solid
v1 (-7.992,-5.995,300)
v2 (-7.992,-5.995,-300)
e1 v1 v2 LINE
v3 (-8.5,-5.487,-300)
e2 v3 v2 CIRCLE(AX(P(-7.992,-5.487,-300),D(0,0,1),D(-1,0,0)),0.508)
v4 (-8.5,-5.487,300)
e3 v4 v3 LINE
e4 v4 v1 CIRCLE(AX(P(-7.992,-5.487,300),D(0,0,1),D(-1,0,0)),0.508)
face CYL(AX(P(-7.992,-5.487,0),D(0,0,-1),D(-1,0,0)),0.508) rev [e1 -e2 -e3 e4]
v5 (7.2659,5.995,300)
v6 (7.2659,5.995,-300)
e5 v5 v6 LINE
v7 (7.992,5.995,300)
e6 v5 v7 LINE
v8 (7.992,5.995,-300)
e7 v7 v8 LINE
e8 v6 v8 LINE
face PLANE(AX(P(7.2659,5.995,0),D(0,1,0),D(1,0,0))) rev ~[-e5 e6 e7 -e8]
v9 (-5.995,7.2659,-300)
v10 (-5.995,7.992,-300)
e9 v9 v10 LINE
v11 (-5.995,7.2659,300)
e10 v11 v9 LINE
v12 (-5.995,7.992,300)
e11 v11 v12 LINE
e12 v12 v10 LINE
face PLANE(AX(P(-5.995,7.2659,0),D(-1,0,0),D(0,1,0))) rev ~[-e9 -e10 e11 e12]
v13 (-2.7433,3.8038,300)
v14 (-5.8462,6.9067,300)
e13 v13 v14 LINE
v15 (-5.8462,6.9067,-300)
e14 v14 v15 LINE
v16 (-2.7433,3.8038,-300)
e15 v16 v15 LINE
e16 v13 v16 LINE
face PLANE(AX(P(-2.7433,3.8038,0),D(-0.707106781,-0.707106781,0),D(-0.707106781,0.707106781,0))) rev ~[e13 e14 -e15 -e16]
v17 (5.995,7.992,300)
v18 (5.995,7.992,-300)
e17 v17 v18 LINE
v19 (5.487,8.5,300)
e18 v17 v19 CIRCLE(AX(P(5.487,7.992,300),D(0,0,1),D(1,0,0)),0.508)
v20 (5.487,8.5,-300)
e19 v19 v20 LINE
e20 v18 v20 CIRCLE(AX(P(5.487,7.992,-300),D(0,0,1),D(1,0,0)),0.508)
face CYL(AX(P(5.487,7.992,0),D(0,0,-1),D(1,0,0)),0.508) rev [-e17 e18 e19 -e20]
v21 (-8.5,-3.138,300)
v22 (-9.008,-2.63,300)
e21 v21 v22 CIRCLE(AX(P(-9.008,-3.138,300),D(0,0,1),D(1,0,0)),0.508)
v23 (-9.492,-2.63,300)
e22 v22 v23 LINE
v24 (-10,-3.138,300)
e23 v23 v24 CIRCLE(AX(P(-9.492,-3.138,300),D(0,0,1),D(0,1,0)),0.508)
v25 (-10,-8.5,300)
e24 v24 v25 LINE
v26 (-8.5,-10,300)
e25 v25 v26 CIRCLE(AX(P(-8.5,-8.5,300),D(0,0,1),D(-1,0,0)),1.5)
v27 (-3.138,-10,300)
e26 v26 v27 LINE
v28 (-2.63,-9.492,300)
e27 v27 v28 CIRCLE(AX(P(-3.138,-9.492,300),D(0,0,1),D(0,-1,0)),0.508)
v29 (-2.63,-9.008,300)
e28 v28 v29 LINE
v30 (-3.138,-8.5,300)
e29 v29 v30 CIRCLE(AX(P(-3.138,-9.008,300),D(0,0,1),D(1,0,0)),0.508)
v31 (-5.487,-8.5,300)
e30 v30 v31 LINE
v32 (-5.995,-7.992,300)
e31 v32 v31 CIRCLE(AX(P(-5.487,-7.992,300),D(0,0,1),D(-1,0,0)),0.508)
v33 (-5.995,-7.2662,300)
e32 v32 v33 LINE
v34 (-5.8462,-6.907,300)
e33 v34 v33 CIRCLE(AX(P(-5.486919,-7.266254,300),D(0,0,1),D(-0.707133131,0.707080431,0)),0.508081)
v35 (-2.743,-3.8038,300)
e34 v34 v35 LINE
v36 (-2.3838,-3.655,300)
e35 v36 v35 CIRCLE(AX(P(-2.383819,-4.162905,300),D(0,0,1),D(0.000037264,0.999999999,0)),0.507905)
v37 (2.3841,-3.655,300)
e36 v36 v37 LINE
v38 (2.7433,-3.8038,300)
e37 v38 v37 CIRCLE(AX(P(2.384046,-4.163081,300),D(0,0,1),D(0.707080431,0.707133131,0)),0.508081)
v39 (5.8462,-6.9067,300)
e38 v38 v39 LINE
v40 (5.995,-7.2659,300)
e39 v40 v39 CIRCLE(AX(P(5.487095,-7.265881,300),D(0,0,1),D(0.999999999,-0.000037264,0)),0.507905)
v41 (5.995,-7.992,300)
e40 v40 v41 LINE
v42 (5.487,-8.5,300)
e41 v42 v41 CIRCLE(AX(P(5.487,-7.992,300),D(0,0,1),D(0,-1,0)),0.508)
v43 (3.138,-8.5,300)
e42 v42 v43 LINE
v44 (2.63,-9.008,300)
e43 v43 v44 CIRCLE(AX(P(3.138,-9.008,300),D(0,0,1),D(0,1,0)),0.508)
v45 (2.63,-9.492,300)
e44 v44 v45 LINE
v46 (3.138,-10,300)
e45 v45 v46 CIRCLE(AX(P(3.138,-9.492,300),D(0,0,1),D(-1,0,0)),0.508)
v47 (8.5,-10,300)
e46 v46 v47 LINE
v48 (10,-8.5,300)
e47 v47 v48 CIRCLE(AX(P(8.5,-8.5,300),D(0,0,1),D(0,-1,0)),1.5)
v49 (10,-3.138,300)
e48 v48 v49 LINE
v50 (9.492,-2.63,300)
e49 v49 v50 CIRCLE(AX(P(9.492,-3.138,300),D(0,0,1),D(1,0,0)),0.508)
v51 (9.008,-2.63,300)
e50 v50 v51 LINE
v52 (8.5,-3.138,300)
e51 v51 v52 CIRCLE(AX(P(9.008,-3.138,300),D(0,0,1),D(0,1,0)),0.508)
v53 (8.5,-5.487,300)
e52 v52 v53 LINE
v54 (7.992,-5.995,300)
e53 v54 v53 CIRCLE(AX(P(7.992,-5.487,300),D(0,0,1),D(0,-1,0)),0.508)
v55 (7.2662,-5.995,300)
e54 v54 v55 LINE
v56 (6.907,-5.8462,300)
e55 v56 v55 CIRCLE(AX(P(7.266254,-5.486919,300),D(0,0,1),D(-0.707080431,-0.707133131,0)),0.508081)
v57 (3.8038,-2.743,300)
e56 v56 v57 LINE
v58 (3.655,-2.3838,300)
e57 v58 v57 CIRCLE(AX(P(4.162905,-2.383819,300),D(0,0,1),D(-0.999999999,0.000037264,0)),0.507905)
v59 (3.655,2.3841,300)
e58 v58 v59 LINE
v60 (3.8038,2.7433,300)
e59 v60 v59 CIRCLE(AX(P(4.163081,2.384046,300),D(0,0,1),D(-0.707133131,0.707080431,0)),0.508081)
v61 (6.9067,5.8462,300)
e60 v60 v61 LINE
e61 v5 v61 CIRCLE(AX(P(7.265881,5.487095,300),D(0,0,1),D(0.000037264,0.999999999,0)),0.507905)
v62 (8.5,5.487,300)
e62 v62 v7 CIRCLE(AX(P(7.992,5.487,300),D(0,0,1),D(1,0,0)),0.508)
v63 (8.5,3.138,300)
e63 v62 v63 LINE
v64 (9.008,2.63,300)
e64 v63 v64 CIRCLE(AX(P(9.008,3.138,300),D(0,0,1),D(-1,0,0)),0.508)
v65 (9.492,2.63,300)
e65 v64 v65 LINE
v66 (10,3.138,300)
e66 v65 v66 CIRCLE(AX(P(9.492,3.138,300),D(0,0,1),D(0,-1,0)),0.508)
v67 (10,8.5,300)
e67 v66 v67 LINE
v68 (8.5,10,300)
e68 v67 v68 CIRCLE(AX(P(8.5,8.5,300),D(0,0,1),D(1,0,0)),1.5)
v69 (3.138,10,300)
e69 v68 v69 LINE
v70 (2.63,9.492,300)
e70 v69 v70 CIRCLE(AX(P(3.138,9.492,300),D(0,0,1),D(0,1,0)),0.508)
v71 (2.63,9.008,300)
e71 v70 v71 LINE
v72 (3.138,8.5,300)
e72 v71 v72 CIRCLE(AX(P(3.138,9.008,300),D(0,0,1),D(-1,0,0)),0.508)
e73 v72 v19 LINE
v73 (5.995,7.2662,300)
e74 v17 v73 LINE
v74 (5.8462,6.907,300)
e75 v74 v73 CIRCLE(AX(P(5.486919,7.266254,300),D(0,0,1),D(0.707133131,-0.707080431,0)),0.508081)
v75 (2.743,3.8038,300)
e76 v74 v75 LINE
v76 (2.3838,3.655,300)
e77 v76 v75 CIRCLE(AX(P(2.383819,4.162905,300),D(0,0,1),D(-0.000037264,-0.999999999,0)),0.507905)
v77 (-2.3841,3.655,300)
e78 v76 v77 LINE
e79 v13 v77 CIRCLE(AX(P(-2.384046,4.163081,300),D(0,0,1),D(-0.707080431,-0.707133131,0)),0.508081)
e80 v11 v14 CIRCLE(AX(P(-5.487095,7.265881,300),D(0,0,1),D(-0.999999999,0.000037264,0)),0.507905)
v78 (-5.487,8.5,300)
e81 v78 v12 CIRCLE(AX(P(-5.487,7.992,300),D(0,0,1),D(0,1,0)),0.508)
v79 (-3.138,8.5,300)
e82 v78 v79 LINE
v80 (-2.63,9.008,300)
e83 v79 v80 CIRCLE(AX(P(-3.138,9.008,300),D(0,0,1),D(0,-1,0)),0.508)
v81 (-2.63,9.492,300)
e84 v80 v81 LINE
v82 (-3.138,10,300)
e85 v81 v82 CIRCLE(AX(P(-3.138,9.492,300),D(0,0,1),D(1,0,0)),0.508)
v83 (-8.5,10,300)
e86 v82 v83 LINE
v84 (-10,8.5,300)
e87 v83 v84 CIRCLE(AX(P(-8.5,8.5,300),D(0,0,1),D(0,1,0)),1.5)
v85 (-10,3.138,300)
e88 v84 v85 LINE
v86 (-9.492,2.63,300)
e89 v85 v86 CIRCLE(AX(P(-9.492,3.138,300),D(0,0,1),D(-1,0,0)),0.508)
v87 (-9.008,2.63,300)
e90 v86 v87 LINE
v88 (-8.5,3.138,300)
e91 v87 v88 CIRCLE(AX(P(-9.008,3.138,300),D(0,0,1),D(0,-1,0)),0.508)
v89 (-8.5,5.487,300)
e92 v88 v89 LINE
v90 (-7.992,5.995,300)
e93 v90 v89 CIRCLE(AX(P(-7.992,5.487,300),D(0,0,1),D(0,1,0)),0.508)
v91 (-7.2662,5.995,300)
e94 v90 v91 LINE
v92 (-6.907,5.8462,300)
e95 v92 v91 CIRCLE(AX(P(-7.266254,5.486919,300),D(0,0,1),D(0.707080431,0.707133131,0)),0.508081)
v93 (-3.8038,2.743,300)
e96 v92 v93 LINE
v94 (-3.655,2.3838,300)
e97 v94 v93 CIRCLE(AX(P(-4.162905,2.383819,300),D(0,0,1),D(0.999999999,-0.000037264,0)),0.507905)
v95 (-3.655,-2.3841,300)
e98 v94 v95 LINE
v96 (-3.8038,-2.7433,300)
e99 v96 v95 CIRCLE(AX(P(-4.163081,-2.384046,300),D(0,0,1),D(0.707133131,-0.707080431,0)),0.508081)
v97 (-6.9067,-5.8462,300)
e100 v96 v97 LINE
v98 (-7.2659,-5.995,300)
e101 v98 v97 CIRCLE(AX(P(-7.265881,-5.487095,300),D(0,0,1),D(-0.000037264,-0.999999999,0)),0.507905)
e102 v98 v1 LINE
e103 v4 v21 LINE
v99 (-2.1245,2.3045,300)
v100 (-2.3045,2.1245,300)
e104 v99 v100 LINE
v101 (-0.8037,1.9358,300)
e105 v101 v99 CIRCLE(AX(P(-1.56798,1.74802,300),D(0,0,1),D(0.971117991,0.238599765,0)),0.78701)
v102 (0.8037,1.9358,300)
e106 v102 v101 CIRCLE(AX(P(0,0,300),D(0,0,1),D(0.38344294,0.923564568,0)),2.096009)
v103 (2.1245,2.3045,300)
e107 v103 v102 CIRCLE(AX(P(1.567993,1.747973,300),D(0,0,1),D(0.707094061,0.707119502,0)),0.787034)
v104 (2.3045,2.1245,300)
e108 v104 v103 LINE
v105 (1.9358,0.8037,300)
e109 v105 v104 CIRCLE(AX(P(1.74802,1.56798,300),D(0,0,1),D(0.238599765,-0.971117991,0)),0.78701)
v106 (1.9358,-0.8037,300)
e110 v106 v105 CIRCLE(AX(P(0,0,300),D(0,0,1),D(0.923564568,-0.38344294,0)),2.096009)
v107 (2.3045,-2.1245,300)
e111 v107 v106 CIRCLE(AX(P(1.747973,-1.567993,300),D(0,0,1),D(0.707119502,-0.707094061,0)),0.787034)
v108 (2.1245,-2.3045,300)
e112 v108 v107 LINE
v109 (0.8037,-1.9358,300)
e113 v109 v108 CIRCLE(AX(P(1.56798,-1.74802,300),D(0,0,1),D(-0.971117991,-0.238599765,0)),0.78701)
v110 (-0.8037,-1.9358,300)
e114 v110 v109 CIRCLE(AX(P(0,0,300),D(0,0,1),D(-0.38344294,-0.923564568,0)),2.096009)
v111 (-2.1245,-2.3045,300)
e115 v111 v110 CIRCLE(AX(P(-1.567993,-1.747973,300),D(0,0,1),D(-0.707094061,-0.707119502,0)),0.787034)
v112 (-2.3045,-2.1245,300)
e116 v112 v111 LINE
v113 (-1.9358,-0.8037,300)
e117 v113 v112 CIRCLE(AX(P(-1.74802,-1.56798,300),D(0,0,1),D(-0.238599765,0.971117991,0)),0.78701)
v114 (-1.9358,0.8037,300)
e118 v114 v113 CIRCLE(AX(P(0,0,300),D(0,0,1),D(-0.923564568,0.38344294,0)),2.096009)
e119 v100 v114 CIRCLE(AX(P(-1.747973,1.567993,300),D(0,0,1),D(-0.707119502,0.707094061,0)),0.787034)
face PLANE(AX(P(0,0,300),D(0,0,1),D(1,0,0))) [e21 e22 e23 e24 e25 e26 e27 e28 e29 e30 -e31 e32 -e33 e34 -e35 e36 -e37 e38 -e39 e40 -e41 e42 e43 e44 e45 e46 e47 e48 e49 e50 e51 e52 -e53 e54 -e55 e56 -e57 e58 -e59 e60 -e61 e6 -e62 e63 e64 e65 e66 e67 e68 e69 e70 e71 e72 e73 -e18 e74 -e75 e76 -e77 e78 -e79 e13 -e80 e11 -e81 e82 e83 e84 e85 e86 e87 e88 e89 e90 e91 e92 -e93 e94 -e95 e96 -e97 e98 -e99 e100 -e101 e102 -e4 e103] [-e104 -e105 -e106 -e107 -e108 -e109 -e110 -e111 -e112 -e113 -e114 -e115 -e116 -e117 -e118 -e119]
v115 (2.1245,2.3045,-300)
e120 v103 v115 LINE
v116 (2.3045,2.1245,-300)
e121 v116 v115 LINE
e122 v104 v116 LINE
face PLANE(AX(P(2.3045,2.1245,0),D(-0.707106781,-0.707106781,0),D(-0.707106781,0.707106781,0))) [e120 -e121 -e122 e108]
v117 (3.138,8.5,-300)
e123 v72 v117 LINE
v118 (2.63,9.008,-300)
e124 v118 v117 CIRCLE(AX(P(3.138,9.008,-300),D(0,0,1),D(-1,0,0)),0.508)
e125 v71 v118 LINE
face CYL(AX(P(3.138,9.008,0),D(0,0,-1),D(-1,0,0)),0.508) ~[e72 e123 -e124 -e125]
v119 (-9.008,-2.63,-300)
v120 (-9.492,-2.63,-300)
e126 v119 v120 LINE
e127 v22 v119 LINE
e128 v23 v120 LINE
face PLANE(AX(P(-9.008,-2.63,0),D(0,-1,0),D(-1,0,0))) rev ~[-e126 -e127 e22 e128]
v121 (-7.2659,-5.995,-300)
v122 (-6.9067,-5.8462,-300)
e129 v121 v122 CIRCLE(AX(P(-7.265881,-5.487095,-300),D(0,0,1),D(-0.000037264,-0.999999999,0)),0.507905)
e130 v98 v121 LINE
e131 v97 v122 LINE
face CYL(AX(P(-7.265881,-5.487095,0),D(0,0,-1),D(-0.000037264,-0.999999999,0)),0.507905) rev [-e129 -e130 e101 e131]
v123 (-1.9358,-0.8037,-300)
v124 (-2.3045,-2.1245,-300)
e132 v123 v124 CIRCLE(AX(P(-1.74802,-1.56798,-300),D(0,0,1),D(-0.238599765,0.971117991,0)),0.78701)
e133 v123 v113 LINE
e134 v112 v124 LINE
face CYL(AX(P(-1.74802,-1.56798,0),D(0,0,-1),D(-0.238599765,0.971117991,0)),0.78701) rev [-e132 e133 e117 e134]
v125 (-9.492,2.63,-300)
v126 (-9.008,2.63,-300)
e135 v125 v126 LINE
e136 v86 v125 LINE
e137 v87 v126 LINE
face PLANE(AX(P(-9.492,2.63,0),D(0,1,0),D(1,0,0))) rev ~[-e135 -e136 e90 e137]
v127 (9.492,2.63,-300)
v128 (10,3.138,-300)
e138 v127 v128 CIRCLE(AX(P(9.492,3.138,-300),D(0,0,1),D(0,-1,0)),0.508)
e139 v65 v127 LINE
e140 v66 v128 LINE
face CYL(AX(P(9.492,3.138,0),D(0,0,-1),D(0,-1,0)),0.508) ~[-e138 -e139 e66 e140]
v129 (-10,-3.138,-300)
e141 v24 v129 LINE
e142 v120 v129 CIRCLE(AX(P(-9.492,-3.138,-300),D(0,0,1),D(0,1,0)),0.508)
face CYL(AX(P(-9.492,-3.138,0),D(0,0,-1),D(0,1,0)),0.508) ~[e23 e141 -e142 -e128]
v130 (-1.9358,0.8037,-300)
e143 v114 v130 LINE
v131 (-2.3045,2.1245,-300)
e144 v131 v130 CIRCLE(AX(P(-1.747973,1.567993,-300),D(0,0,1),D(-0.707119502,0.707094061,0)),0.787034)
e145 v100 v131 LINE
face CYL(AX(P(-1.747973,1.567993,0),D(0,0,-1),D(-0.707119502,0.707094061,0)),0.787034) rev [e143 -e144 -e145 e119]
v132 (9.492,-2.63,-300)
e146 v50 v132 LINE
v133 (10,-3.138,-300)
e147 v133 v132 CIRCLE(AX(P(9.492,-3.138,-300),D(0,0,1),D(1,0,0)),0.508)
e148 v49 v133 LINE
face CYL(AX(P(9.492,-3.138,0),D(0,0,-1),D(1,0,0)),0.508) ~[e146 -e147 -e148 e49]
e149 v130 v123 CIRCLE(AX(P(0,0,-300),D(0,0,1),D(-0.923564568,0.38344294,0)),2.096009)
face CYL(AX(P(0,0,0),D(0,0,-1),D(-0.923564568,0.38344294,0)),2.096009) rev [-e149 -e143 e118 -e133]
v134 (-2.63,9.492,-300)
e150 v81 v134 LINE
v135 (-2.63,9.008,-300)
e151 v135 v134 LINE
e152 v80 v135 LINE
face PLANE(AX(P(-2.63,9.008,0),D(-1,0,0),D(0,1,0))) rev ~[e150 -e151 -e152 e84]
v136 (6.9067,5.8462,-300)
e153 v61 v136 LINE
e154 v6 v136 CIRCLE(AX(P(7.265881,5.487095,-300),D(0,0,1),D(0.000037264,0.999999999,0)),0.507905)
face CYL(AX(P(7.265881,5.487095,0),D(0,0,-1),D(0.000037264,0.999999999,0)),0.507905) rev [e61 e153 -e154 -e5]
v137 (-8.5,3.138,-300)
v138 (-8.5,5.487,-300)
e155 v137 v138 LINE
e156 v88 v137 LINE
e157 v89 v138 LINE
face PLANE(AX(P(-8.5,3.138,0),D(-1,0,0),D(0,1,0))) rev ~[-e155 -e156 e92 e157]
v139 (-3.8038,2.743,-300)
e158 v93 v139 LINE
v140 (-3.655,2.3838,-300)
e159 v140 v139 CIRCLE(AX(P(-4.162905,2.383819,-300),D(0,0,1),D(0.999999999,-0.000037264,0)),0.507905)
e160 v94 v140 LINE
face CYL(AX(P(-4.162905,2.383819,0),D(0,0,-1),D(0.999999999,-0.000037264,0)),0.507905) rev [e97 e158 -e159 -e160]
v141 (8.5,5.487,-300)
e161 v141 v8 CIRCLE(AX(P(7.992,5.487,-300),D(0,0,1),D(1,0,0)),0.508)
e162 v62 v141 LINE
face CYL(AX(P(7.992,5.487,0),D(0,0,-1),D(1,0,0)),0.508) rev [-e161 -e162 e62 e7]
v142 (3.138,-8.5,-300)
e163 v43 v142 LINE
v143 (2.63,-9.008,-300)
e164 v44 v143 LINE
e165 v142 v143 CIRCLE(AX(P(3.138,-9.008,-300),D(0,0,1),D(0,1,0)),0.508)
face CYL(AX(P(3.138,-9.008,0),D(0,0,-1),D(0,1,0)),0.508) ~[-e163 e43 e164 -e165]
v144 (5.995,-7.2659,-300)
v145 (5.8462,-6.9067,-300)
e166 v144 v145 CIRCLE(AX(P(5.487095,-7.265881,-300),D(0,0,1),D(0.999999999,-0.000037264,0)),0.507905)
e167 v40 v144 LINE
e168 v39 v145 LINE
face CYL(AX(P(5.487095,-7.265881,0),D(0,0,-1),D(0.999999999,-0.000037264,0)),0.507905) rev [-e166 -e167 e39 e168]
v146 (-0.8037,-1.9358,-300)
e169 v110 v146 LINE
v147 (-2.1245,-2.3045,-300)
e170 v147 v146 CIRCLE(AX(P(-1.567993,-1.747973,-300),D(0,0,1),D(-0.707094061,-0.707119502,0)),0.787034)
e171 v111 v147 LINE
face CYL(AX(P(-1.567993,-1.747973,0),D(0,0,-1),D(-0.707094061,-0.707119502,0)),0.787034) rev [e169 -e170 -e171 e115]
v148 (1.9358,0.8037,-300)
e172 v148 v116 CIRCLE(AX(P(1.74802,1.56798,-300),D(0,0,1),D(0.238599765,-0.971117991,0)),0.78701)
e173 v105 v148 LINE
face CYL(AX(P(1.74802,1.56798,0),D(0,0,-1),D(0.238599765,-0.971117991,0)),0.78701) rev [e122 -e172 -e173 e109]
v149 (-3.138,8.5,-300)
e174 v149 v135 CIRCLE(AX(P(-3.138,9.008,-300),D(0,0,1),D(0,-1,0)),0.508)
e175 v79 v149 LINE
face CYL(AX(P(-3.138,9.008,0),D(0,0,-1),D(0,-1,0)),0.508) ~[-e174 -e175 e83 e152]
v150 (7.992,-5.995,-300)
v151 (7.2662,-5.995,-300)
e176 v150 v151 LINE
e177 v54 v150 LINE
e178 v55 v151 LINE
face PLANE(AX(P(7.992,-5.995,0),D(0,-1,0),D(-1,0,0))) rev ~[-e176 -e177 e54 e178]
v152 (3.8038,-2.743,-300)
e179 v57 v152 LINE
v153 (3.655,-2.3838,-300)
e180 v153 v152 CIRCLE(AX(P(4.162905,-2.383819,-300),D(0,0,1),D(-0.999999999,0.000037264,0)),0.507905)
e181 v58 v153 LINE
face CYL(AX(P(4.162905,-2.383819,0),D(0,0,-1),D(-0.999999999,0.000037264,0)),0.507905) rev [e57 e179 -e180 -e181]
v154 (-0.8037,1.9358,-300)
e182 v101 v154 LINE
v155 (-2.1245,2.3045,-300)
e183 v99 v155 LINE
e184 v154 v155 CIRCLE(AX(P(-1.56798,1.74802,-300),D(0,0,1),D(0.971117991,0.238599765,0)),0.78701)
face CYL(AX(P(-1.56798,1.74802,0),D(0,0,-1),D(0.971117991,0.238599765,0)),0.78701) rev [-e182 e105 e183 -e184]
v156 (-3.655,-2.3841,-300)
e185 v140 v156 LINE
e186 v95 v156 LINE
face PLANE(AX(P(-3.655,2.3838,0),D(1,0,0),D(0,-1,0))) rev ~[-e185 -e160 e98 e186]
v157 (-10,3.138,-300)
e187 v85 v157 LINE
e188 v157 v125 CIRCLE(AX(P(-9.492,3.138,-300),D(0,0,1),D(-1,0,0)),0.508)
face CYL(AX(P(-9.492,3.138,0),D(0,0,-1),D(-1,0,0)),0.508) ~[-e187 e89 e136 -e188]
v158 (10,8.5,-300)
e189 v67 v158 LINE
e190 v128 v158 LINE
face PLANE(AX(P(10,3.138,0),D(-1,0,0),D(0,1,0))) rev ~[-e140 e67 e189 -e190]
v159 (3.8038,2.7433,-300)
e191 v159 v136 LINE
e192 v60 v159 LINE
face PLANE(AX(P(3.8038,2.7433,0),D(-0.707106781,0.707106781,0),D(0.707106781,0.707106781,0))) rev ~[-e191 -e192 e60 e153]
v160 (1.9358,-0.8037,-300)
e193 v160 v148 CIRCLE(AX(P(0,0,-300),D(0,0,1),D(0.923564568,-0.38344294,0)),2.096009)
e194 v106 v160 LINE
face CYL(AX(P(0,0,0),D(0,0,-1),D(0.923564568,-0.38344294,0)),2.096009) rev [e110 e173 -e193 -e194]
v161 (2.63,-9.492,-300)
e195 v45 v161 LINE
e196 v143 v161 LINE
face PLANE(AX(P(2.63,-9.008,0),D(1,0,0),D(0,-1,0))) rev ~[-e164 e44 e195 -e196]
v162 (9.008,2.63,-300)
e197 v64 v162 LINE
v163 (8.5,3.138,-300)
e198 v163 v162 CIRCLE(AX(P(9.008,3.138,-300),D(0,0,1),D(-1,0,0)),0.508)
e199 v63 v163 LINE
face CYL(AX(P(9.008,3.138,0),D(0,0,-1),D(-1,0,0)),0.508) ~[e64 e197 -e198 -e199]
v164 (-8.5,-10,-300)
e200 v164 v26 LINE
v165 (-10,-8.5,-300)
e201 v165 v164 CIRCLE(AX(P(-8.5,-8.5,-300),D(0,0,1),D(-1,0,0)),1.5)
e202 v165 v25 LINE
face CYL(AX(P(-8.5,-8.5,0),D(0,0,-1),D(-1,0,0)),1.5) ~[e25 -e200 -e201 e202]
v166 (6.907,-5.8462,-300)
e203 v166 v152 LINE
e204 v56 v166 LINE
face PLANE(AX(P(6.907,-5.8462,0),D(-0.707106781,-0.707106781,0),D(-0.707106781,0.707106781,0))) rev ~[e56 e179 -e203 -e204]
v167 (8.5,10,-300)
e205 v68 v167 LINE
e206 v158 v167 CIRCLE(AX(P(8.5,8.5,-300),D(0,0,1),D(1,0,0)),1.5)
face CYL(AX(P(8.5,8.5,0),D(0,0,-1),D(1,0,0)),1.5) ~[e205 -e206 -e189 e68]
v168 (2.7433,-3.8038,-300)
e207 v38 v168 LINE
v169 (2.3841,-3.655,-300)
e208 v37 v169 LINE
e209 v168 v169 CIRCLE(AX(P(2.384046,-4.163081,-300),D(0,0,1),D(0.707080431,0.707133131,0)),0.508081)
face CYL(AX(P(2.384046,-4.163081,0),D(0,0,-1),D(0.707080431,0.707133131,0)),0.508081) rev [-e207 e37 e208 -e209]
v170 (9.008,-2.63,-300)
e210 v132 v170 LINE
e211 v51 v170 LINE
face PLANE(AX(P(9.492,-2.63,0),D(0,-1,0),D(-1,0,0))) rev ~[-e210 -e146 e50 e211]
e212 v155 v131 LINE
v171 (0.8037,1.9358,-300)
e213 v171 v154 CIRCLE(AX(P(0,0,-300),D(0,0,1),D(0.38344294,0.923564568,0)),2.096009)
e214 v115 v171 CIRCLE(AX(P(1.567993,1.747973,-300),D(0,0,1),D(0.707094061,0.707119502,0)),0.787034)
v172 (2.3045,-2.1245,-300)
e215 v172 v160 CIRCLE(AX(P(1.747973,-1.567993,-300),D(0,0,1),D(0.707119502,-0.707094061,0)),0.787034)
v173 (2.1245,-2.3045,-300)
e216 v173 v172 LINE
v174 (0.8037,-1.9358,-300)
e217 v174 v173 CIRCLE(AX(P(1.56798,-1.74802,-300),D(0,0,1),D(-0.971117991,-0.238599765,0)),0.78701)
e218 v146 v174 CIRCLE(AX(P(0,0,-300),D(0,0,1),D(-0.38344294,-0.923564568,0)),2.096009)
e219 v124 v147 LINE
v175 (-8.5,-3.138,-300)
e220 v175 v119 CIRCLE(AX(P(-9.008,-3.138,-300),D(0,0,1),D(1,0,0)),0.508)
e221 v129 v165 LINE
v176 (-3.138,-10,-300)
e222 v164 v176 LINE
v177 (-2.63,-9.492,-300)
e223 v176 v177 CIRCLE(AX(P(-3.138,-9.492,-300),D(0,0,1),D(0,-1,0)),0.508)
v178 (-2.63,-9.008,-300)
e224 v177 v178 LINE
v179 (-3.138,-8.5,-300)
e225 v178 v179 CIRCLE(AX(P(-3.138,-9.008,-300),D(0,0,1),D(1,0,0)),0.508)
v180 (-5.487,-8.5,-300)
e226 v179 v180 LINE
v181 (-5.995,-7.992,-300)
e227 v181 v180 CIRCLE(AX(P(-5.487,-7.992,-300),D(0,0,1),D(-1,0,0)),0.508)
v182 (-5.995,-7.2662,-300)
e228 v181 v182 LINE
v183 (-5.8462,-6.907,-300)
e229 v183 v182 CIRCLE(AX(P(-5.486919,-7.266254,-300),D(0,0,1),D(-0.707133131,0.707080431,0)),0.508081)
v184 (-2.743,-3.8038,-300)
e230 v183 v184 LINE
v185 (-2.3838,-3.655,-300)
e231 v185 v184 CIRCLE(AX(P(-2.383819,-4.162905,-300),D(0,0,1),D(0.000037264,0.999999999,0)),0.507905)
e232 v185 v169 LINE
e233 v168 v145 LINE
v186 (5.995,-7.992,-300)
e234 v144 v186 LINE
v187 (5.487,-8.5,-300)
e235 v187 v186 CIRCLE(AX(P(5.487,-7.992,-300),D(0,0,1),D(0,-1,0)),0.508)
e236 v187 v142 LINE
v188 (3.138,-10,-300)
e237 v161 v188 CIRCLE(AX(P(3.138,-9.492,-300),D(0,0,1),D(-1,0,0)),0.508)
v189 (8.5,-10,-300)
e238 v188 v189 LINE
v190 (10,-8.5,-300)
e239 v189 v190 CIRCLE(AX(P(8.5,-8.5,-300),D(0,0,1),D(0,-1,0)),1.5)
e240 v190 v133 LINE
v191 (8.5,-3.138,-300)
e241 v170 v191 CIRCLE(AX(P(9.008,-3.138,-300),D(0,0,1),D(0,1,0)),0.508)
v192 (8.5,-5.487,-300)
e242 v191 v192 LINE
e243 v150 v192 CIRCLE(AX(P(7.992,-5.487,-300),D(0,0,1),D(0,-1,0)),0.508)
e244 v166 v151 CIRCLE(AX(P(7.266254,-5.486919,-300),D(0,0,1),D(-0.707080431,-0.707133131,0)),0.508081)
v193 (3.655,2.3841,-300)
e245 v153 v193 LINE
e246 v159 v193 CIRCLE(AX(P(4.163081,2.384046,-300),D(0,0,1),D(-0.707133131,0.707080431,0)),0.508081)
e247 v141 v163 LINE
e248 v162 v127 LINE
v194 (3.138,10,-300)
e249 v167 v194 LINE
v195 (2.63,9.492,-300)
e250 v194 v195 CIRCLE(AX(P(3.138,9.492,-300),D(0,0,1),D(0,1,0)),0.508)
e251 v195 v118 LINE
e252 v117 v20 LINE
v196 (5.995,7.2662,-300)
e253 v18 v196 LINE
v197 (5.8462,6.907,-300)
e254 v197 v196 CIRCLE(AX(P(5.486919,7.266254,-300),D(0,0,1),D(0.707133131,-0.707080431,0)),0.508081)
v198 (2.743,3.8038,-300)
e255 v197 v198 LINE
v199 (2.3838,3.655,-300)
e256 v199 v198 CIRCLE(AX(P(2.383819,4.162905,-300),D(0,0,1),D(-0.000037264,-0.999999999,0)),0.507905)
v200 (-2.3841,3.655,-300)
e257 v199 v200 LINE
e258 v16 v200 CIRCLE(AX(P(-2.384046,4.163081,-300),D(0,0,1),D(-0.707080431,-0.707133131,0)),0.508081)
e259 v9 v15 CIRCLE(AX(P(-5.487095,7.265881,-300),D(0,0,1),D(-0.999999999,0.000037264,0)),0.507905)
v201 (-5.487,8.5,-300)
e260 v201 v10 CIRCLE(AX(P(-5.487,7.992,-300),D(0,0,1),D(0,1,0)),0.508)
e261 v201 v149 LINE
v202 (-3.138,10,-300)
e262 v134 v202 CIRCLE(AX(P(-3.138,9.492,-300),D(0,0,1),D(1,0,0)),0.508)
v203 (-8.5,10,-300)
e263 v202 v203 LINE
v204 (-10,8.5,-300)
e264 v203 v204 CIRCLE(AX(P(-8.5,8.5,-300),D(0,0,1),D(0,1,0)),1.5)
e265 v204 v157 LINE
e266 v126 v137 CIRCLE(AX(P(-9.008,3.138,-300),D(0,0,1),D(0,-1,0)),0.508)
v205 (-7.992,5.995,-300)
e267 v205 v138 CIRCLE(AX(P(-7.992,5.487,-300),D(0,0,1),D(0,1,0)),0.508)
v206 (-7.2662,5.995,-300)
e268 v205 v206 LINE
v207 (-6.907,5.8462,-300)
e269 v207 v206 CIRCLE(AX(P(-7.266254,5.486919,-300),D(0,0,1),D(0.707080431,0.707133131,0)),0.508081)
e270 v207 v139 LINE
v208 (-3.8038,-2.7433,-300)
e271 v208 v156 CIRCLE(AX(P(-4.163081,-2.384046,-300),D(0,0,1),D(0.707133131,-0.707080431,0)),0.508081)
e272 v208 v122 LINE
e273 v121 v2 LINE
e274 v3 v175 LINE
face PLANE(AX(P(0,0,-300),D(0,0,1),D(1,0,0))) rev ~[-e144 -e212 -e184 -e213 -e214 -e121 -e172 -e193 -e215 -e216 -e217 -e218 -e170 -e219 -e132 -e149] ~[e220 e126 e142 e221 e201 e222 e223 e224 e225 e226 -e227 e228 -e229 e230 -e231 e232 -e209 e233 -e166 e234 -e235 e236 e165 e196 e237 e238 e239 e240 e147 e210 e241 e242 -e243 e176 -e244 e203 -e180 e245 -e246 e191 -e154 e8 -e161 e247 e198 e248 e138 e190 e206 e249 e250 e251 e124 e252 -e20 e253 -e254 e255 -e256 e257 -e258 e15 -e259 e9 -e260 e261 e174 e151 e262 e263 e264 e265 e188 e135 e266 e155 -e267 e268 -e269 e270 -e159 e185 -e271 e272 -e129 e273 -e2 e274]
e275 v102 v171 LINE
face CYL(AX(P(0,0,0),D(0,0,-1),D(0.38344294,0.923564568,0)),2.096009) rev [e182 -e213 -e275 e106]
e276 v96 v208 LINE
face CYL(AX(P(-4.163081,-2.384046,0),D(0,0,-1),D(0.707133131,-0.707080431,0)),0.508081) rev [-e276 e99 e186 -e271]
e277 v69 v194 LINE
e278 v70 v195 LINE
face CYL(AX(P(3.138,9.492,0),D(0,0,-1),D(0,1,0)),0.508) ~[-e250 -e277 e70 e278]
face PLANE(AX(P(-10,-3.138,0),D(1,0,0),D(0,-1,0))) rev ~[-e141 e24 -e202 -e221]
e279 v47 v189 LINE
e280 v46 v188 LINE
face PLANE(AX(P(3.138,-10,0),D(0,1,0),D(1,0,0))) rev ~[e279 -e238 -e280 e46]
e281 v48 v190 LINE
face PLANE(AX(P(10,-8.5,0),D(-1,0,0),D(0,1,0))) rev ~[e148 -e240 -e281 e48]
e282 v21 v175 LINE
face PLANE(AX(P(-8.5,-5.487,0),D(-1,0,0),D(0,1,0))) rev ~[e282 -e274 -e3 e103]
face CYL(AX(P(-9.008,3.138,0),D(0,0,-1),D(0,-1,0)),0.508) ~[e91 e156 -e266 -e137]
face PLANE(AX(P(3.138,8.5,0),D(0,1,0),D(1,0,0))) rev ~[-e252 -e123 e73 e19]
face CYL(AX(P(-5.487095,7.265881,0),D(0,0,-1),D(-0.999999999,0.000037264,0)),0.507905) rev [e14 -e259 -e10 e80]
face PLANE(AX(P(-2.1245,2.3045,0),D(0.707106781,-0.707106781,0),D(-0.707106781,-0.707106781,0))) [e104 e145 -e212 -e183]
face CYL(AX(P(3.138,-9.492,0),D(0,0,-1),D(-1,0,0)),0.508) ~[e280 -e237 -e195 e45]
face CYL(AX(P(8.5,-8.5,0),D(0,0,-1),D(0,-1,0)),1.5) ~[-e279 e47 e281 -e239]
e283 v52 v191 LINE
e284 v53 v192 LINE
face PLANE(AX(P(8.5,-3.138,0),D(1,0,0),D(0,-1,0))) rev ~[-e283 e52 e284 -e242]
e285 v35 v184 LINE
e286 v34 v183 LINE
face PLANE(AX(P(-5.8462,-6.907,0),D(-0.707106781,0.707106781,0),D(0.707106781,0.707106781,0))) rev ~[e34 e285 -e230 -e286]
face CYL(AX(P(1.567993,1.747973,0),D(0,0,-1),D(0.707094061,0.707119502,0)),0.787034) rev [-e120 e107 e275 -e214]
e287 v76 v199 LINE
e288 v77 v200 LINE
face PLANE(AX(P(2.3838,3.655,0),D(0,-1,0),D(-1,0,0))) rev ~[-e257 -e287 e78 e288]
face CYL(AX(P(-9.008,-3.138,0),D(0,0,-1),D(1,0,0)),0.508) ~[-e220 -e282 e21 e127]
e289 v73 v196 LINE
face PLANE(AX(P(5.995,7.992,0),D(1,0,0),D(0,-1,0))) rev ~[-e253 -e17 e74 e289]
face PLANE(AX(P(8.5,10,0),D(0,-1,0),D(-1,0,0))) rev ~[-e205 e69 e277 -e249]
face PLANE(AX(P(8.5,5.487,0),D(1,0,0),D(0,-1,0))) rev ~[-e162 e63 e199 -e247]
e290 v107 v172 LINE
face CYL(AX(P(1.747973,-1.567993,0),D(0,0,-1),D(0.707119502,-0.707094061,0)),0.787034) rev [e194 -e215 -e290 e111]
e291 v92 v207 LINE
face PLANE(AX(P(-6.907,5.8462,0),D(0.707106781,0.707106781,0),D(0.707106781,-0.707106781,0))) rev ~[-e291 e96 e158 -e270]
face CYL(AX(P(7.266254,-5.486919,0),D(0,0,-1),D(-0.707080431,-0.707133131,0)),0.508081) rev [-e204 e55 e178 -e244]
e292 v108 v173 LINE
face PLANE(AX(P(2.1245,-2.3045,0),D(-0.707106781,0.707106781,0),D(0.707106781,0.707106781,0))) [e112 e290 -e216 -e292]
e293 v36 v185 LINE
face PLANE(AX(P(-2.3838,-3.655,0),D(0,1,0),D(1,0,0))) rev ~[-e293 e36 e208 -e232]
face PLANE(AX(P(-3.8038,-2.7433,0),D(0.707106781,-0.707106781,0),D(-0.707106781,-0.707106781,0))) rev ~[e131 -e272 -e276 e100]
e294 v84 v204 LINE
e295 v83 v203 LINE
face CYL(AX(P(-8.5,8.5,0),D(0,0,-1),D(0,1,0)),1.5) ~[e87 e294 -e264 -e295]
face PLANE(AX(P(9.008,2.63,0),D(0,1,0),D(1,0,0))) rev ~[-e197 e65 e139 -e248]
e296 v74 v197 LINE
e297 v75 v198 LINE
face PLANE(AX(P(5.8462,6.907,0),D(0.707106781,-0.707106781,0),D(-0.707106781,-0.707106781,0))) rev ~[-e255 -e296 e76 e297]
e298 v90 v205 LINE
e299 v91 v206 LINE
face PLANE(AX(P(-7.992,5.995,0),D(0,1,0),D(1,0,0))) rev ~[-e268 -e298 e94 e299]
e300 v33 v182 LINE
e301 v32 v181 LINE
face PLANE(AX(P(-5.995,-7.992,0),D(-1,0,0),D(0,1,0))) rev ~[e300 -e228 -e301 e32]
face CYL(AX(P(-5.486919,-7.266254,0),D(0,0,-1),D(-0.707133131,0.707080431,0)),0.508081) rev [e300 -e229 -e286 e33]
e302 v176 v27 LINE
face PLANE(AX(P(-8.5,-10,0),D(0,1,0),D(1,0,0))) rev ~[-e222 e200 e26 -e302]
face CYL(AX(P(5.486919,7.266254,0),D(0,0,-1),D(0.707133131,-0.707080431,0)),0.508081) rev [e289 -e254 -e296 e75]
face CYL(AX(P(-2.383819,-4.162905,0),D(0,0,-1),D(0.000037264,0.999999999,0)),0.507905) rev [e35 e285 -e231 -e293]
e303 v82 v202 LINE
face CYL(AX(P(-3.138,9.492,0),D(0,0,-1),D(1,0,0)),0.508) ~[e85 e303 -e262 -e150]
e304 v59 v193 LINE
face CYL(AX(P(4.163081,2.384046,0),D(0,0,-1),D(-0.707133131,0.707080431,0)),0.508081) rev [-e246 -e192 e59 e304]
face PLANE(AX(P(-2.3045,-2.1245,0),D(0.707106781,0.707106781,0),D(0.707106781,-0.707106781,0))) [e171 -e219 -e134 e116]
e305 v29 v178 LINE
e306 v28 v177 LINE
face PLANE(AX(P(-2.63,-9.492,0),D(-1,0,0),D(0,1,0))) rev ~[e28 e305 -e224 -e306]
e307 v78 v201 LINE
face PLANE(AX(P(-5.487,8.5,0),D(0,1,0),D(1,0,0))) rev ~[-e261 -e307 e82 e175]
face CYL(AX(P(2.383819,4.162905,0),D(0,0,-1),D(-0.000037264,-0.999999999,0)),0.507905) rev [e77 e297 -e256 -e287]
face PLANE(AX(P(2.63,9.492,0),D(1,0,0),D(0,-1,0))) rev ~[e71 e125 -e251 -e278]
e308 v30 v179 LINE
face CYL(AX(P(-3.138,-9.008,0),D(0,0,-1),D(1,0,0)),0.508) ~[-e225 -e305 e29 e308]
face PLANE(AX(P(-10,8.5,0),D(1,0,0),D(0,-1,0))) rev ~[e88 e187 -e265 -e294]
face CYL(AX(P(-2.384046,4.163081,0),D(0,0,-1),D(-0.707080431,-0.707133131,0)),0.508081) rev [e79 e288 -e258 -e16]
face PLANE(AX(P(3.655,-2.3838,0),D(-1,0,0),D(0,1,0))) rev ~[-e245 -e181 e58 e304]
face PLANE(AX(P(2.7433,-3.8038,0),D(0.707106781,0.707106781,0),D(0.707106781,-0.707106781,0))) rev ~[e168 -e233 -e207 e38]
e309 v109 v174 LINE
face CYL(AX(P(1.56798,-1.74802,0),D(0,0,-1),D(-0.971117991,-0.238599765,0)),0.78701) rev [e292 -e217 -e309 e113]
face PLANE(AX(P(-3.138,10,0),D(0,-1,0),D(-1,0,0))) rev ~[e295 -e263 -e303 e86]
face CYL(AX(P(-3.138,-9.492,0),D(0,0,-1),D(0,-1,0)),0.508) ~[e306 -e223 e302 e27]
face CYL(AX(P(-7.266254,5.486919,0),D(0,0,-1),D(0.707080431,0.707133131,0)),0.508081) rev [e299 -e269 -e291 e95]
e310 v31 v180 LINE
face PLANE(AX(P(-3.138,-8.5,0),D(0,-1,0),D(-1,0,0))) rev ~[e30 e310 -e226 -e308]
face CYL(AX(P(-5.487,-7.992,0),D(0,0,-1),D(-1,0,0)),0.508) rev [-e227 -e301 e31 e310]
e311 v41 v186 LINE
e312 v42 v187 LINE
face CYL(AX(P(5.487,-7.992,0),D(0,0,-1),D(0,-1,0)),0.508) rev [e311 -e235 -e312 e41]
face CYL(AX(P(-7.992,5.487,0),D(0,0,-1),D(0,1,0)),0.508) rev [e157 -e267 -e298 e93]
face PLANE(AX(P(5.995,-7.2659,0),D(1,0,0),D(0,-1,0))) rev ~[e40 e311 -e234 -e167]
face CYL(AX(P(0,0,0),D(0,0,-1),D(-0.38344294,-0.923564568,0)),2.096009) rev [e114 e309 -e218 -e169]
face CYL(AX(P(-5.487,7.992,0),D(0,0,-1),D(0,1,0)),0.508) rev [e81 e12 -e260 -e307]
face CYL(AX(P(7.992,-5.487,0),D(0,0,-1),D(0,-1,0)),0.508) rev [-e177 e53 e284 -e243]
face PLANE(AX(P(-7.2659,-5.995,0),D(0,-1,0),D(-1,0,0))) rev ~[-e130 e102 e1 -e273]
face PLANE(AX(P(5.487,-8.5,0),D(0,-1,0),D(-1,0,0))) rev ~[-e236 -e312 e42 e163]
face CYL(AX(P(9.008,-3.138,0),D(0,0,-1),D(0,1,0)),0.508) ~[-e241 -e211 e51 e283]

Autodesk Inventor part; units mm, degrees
ref_plane "YZ Plane" through (0, 0, 0) normal (1, 0, 0) x (0, 1, 0)
sketch "Sketch_1" plane through (0, 0, 0) normal (0, 0, 1) x (1, 0, 0)
  arc A0 (-10, -8.5) -> (-8.5, -10) centre (-8.5, -8.5) ccw
  line L0 (-8.5, -10) -> (-3.138, -10)
  arc A1 (-3.138, -10) -> (-2.63, -9.492) centre (-3.138, -9.492) ccw
  line L1 (-2.63, -9.492) -> (-2.63, -9.008)
  arc A2 (-2.63, -9.008) -> (-3.138, -8.5) centre (-3.138, -9.008) ccw
  line L2 (-3.138, -8.5) -> (-5.487, -8.5)
  arc A3 (-5.995, -7.992) -> (-5.487, -8.5) centre (-5.487, -7.992) ccw
  line L3 (-5.995, -7.992) -> (-5.995, -7.2662)
  arc A4 (-5.8462, -6.907) -> (-5.995, -7.2662) centre (-5.487, -7.2662) ccw
  line L4 (-5.8462, -6.907) -> (-2.743, -3.8038)
  arc A5 (-2.3838, -3.655) -> (-2.743, -3.8038) centre (-2.3838, -4.163) ccw
  line L5 (-2.3838, -3.655) -> (2.3841, -3.655)
  arc A6 (2.7433, -3.8038) -> (2.3841, -3.655) centre (2.3841, -4.163) ccw
  line L6 (2.7433, -3.8038) -> (5.8462, -6.9067)
  arc A7 (5.995, -7.2659) -> (5.8462, -6.9067) centre (5.487, -7.2659) ccw
  line L7 (5.995, -7.2659) -> (5.995, -7.992)
  arc A8 (5.487, -8.5) -> (5.995, -7.992) centre (5.487, -7.992) ccw
  line L8 (5.487, -8.5) -> (3.138, -8.5)
  arc A9 (3.138, -8.5) -> (2.63, -9.008) centre (3.138, -9.008) ccw
  line L9 (2.63, -9.008) -> (2.63, -9.492)
  arc A10 (2.63, -9.492) -> (3.138, -10) centre (3.138, -9.492) ccw
  line L10 (3.138, -10) -> (8.5, -10)
  arc A11 (8.5, -10) -> (10, -8.5) centre (8.5, -8.5) ccw
  line L11 (10, -8.5) -> (10, -3.138)
  arc A12 (10, -3.138) -> (9.492, -2.63) centre (9.492, -3.138) ccw
  line L12 (9.492, -2.63) -> (9.008, -2.63)
  arc A13 (9.008, -2.63) -> (8.5, -3.138) centre (9.008, -3.138) ccw
  line L13 (8.5, -3.138) -> (8.5, -5.487)
  arc A14 (7.992, -5.995) -> (8.5, -5.487) centre (7.992, -5.487) ccw
  line L14 (7.992, -5.995) -> (7.2662, -5.995)
  arc A15 (6.907, -5.8462) -> (7.2662, -5.995) centre (7.2662, -5.487) ccw
  line L15 (6.907, -5.8462) -> (3.8038, -2.743)
  arc A16 (3.655, -2.3838) -> (3.8038, -2.743) centre (4.163, -2.3838) ccw
  line L16 (3.655, -2.3838) -> (3.655, 2.3841)
  arc A17 (3.8038, 2.7433) -> (3.655, 2.3841) centre (4.163, 2.3841) ccw
  line L17 (3.8038, 2.7433) -> (6.9067, 5.8462)
  arc A18 (7.2659, 5.995) -> (6.9067, 5.8462) centre (7.2659, 5.487) ccw
  line L18 (7.2659, 5.995) -> (7.992, 5.995)
  arc A19 (8.5, 5.487) -> (7.992, 5.995) centre (7.992, 5.487) ccw
  line L19 (8.5, 5.487) -> (8.5, 3.138)
  arc A20 (8.5, 3.138) -> (9.008, 2.63) centre (9.008, 3.138) ccw
  line L20 (9.008, 2.63) -> (9.492, 2.63)
  arc A21 (9.492, 2.63) -> (10, 3.138) centre (9.492, 3.138) ccw
  line L21 (10, 3.138) -> (10, 8.5)
  arc A22 (10, 8.5) -> (8.5, 10) centre (8.5, 8.5) ccw
  line L22 (8.5, 10) -> (3.138, 10)
  arc A23 (3.138, 10) -> (2.63, 9.492) centre (3.138, 9.492) ccw
  line L23 (2.63, 9.492) -> (2.63, 9.008)
  arc A24 (2.63, 9.008) -> (3.138, 8.5) centre (3.138, 9.008) ccw
  line L24 (3.138, 8.5) -> (5.487, 8.5)
  arc A25 (5.995, 7.992) -> (5.487, 8.5) centre (5.487, 7.992) ccw
  line L25 (5.995, 7.992) -> (5.995, 7.2662)
  arc A26 (5.8462, 6.907) -> (5.995, 7.2662) centre (5.487, 7.2662) ccw
  line L26 (5.8462, 6.907) -> (2.743, 3.8038)
  arc A27 (2.3838, 3.655) -> (2.743, 3.8038) centre (2.3838, 4.163) ccw
  line L27 (2.3838, 3.655) -> (-2.3841, 3.655)
  arc A28 (-2.7433, 3.8038) -> (-2.3841, 3.655) centre (-2.3841, 4.163) ccw
  line L28 (-2.7433, 3.8038) -> (-5.8462, 6.9067)
  arc A29 (-5.995, 7.2659) -> (-5.8462, 6.9067) centre (-5.487, 7.2659) ccw
  line L29 (-5.995, 7.2659) -> (-5.995, 7.992)
  arc A30 (-5.487, 8.5) -> (-5.995, 7.992) centre (-5.487, 7.992) ccw
  line L30 (-5.487, 8.5) -> (-3.138, 8.5)
  arc A31 (-3.138, 8.5) -> (-2.63, 9.008) centre (-3.138, 9.008) ccw
  line L31 (-2.63, 9.008) -> (-2.63, 9.492)
  arc A32 (-2.63, 9.492) -> (-3.138, 10) centre (-3.138, 9.492) ccw
  line L32 (-3.138, 10) -> (-8.5, 10)
  arc A33 (-8.5, 10) -> (-10, 8.5) centre (-8.5, 8.5) ccw
  line L33 (-10, 8.5) -> (-10, 3.138)
  arc A34 (-10, 3.138) -> (-9.492, 2.63) centre (-9.492, 3.138) ccw
  line L34 (-9.492, 2.63) -> (-9.008, 2.63)
  arc A35 (-9.008, 2.63) -> (-8.5, 3.138) centre (-9.008, 3.138) ccw
  line L35 (-8.5, 3.138) -> (-8.5, 5.487)
  arc A36 (-7.992, 5.995) -> (-8.5, 5.487) centre (-7.992, 5.487) ccw
  line L36 (-7.992, 5.995) -> (-7.2662, 5.995)
  arc A37 (-6.907, 5.8462) -> (-7.2662, 5.995) centre (-7.2662, 5.487) ccw
  line L37 (-6.907, 5.8462) -> (-3.8038, 2.743)
  arc A38 (-3.655, 2.3838) -> (-3.8038, 2.743) centre (-4.163, 2.3838) ccw
  line L38 (-3.655, 2.3838) -> (-3.655, -2.3841)
  arc A39 (-3.8038, -2.7433) -> (-3.655, -2.3841) centre (-4.163, -2.3841) ccw
  line L39 (-3.8038, -2.7433) -> (-6.9067, -5.8462)
  arc A40 (-7.2659, -5.995) -> (-6.9067, -5.8462) centre (-7.2659, -5.487) ccw
  line L40 (-7.2659, -5.995) -> (-7.992, -5.995)
  arc A41 (-8.5, -5.487) -> (-7.992, -5.995) centre (-7.992, -5.487) ccw
  line L41 (-8.5, -5.487) -> (-8.5, -3.138)
  arc A42 (-8.5, -3.138) -> (-9.008, -2.63) centre (-9.008, -3.138) ccw
  line L42 (-9.008, -2.63) -> (-9.492, -2.63)
  arc A43 (-9.492, -2.63) -> (-10, -3.138) centre (-9.492, -3.138) ccw
  line L43 (-10, -3.138) -> (-10, -8.5)
  arc A44 (-1.9358, -0.8037) -> (-2.3045, -2.1245) centre (-1.748, -1.568) ccw
  line L44 (-2.3045, -2.1245) -> (-2.1245, -2.3045)
  arc A45 (-2.1245, -2.3045) -> (-0.8037, -1.9358) centre (-1.568, -1.748) ccw
  arc A46 (-0.8037, -1.9358) -> (0.8037, -1.9358) centre (0, 0) ccw
  arc A47 (0.8037, -1.9358) -> (2.1245, -2.3045) centre (1.568, -1.748) ccw
  line L45 (2.1245, -2.3045) -> (2.3045, -2.1245)
  arc A48 (2.3045, -2.1245) -> (1.9358, -0.8037) centre (1.748, -1.568) ccw
  arc A49 (1.9358, -0.8037) -> (1.9358, 0.8037) centre (0, 0) ccw
  arc A50 (1.9358, 0.8037) -> (2.3045, 2.1245) centre (1.748, 1.568) ccw
  line L46 (2.3045, 2.1245) -> (2.1245, 2.3045)
  arc A51 (2.1245, 2.3045) -> (0.8037, 1.9358) centre (1.568, 1.748) ccw
  arc A52 (0.8037, 1.9358) -> (-0.8037, 1.9358) centre (0, 0) ccw
  arc A53 (-0.8037, 1.9358) -> (-2.1245, 2.3045) centre (-1.568, 1.748) ccw
  line L47 (-2.1245, 2.3045) -> (-2.3045, 2.1245)
  arc A54 (-2.3045, 2.1245) -> (-1.9358, 0.8037) centre (-1.748, 1.568) ccw
  arc A55 (-1.9358, 0.8037) -> (-1.9358, -0.8037) centre (0, 0) ccw
extrude "Extrusion1" add sketch "Sketch_1" along normal mid plane 600
ref_plane "Work Plane1" through (0, 0, 0) normal (0, 0, 1) x (-1, 0, 0)
ref_plane "Work Plane2" through (9.008, 0, 300) normal (0, -1, 0) x (1, 0, 0)
properties part number "20x20x600 T Slot Extrusion Bar"
